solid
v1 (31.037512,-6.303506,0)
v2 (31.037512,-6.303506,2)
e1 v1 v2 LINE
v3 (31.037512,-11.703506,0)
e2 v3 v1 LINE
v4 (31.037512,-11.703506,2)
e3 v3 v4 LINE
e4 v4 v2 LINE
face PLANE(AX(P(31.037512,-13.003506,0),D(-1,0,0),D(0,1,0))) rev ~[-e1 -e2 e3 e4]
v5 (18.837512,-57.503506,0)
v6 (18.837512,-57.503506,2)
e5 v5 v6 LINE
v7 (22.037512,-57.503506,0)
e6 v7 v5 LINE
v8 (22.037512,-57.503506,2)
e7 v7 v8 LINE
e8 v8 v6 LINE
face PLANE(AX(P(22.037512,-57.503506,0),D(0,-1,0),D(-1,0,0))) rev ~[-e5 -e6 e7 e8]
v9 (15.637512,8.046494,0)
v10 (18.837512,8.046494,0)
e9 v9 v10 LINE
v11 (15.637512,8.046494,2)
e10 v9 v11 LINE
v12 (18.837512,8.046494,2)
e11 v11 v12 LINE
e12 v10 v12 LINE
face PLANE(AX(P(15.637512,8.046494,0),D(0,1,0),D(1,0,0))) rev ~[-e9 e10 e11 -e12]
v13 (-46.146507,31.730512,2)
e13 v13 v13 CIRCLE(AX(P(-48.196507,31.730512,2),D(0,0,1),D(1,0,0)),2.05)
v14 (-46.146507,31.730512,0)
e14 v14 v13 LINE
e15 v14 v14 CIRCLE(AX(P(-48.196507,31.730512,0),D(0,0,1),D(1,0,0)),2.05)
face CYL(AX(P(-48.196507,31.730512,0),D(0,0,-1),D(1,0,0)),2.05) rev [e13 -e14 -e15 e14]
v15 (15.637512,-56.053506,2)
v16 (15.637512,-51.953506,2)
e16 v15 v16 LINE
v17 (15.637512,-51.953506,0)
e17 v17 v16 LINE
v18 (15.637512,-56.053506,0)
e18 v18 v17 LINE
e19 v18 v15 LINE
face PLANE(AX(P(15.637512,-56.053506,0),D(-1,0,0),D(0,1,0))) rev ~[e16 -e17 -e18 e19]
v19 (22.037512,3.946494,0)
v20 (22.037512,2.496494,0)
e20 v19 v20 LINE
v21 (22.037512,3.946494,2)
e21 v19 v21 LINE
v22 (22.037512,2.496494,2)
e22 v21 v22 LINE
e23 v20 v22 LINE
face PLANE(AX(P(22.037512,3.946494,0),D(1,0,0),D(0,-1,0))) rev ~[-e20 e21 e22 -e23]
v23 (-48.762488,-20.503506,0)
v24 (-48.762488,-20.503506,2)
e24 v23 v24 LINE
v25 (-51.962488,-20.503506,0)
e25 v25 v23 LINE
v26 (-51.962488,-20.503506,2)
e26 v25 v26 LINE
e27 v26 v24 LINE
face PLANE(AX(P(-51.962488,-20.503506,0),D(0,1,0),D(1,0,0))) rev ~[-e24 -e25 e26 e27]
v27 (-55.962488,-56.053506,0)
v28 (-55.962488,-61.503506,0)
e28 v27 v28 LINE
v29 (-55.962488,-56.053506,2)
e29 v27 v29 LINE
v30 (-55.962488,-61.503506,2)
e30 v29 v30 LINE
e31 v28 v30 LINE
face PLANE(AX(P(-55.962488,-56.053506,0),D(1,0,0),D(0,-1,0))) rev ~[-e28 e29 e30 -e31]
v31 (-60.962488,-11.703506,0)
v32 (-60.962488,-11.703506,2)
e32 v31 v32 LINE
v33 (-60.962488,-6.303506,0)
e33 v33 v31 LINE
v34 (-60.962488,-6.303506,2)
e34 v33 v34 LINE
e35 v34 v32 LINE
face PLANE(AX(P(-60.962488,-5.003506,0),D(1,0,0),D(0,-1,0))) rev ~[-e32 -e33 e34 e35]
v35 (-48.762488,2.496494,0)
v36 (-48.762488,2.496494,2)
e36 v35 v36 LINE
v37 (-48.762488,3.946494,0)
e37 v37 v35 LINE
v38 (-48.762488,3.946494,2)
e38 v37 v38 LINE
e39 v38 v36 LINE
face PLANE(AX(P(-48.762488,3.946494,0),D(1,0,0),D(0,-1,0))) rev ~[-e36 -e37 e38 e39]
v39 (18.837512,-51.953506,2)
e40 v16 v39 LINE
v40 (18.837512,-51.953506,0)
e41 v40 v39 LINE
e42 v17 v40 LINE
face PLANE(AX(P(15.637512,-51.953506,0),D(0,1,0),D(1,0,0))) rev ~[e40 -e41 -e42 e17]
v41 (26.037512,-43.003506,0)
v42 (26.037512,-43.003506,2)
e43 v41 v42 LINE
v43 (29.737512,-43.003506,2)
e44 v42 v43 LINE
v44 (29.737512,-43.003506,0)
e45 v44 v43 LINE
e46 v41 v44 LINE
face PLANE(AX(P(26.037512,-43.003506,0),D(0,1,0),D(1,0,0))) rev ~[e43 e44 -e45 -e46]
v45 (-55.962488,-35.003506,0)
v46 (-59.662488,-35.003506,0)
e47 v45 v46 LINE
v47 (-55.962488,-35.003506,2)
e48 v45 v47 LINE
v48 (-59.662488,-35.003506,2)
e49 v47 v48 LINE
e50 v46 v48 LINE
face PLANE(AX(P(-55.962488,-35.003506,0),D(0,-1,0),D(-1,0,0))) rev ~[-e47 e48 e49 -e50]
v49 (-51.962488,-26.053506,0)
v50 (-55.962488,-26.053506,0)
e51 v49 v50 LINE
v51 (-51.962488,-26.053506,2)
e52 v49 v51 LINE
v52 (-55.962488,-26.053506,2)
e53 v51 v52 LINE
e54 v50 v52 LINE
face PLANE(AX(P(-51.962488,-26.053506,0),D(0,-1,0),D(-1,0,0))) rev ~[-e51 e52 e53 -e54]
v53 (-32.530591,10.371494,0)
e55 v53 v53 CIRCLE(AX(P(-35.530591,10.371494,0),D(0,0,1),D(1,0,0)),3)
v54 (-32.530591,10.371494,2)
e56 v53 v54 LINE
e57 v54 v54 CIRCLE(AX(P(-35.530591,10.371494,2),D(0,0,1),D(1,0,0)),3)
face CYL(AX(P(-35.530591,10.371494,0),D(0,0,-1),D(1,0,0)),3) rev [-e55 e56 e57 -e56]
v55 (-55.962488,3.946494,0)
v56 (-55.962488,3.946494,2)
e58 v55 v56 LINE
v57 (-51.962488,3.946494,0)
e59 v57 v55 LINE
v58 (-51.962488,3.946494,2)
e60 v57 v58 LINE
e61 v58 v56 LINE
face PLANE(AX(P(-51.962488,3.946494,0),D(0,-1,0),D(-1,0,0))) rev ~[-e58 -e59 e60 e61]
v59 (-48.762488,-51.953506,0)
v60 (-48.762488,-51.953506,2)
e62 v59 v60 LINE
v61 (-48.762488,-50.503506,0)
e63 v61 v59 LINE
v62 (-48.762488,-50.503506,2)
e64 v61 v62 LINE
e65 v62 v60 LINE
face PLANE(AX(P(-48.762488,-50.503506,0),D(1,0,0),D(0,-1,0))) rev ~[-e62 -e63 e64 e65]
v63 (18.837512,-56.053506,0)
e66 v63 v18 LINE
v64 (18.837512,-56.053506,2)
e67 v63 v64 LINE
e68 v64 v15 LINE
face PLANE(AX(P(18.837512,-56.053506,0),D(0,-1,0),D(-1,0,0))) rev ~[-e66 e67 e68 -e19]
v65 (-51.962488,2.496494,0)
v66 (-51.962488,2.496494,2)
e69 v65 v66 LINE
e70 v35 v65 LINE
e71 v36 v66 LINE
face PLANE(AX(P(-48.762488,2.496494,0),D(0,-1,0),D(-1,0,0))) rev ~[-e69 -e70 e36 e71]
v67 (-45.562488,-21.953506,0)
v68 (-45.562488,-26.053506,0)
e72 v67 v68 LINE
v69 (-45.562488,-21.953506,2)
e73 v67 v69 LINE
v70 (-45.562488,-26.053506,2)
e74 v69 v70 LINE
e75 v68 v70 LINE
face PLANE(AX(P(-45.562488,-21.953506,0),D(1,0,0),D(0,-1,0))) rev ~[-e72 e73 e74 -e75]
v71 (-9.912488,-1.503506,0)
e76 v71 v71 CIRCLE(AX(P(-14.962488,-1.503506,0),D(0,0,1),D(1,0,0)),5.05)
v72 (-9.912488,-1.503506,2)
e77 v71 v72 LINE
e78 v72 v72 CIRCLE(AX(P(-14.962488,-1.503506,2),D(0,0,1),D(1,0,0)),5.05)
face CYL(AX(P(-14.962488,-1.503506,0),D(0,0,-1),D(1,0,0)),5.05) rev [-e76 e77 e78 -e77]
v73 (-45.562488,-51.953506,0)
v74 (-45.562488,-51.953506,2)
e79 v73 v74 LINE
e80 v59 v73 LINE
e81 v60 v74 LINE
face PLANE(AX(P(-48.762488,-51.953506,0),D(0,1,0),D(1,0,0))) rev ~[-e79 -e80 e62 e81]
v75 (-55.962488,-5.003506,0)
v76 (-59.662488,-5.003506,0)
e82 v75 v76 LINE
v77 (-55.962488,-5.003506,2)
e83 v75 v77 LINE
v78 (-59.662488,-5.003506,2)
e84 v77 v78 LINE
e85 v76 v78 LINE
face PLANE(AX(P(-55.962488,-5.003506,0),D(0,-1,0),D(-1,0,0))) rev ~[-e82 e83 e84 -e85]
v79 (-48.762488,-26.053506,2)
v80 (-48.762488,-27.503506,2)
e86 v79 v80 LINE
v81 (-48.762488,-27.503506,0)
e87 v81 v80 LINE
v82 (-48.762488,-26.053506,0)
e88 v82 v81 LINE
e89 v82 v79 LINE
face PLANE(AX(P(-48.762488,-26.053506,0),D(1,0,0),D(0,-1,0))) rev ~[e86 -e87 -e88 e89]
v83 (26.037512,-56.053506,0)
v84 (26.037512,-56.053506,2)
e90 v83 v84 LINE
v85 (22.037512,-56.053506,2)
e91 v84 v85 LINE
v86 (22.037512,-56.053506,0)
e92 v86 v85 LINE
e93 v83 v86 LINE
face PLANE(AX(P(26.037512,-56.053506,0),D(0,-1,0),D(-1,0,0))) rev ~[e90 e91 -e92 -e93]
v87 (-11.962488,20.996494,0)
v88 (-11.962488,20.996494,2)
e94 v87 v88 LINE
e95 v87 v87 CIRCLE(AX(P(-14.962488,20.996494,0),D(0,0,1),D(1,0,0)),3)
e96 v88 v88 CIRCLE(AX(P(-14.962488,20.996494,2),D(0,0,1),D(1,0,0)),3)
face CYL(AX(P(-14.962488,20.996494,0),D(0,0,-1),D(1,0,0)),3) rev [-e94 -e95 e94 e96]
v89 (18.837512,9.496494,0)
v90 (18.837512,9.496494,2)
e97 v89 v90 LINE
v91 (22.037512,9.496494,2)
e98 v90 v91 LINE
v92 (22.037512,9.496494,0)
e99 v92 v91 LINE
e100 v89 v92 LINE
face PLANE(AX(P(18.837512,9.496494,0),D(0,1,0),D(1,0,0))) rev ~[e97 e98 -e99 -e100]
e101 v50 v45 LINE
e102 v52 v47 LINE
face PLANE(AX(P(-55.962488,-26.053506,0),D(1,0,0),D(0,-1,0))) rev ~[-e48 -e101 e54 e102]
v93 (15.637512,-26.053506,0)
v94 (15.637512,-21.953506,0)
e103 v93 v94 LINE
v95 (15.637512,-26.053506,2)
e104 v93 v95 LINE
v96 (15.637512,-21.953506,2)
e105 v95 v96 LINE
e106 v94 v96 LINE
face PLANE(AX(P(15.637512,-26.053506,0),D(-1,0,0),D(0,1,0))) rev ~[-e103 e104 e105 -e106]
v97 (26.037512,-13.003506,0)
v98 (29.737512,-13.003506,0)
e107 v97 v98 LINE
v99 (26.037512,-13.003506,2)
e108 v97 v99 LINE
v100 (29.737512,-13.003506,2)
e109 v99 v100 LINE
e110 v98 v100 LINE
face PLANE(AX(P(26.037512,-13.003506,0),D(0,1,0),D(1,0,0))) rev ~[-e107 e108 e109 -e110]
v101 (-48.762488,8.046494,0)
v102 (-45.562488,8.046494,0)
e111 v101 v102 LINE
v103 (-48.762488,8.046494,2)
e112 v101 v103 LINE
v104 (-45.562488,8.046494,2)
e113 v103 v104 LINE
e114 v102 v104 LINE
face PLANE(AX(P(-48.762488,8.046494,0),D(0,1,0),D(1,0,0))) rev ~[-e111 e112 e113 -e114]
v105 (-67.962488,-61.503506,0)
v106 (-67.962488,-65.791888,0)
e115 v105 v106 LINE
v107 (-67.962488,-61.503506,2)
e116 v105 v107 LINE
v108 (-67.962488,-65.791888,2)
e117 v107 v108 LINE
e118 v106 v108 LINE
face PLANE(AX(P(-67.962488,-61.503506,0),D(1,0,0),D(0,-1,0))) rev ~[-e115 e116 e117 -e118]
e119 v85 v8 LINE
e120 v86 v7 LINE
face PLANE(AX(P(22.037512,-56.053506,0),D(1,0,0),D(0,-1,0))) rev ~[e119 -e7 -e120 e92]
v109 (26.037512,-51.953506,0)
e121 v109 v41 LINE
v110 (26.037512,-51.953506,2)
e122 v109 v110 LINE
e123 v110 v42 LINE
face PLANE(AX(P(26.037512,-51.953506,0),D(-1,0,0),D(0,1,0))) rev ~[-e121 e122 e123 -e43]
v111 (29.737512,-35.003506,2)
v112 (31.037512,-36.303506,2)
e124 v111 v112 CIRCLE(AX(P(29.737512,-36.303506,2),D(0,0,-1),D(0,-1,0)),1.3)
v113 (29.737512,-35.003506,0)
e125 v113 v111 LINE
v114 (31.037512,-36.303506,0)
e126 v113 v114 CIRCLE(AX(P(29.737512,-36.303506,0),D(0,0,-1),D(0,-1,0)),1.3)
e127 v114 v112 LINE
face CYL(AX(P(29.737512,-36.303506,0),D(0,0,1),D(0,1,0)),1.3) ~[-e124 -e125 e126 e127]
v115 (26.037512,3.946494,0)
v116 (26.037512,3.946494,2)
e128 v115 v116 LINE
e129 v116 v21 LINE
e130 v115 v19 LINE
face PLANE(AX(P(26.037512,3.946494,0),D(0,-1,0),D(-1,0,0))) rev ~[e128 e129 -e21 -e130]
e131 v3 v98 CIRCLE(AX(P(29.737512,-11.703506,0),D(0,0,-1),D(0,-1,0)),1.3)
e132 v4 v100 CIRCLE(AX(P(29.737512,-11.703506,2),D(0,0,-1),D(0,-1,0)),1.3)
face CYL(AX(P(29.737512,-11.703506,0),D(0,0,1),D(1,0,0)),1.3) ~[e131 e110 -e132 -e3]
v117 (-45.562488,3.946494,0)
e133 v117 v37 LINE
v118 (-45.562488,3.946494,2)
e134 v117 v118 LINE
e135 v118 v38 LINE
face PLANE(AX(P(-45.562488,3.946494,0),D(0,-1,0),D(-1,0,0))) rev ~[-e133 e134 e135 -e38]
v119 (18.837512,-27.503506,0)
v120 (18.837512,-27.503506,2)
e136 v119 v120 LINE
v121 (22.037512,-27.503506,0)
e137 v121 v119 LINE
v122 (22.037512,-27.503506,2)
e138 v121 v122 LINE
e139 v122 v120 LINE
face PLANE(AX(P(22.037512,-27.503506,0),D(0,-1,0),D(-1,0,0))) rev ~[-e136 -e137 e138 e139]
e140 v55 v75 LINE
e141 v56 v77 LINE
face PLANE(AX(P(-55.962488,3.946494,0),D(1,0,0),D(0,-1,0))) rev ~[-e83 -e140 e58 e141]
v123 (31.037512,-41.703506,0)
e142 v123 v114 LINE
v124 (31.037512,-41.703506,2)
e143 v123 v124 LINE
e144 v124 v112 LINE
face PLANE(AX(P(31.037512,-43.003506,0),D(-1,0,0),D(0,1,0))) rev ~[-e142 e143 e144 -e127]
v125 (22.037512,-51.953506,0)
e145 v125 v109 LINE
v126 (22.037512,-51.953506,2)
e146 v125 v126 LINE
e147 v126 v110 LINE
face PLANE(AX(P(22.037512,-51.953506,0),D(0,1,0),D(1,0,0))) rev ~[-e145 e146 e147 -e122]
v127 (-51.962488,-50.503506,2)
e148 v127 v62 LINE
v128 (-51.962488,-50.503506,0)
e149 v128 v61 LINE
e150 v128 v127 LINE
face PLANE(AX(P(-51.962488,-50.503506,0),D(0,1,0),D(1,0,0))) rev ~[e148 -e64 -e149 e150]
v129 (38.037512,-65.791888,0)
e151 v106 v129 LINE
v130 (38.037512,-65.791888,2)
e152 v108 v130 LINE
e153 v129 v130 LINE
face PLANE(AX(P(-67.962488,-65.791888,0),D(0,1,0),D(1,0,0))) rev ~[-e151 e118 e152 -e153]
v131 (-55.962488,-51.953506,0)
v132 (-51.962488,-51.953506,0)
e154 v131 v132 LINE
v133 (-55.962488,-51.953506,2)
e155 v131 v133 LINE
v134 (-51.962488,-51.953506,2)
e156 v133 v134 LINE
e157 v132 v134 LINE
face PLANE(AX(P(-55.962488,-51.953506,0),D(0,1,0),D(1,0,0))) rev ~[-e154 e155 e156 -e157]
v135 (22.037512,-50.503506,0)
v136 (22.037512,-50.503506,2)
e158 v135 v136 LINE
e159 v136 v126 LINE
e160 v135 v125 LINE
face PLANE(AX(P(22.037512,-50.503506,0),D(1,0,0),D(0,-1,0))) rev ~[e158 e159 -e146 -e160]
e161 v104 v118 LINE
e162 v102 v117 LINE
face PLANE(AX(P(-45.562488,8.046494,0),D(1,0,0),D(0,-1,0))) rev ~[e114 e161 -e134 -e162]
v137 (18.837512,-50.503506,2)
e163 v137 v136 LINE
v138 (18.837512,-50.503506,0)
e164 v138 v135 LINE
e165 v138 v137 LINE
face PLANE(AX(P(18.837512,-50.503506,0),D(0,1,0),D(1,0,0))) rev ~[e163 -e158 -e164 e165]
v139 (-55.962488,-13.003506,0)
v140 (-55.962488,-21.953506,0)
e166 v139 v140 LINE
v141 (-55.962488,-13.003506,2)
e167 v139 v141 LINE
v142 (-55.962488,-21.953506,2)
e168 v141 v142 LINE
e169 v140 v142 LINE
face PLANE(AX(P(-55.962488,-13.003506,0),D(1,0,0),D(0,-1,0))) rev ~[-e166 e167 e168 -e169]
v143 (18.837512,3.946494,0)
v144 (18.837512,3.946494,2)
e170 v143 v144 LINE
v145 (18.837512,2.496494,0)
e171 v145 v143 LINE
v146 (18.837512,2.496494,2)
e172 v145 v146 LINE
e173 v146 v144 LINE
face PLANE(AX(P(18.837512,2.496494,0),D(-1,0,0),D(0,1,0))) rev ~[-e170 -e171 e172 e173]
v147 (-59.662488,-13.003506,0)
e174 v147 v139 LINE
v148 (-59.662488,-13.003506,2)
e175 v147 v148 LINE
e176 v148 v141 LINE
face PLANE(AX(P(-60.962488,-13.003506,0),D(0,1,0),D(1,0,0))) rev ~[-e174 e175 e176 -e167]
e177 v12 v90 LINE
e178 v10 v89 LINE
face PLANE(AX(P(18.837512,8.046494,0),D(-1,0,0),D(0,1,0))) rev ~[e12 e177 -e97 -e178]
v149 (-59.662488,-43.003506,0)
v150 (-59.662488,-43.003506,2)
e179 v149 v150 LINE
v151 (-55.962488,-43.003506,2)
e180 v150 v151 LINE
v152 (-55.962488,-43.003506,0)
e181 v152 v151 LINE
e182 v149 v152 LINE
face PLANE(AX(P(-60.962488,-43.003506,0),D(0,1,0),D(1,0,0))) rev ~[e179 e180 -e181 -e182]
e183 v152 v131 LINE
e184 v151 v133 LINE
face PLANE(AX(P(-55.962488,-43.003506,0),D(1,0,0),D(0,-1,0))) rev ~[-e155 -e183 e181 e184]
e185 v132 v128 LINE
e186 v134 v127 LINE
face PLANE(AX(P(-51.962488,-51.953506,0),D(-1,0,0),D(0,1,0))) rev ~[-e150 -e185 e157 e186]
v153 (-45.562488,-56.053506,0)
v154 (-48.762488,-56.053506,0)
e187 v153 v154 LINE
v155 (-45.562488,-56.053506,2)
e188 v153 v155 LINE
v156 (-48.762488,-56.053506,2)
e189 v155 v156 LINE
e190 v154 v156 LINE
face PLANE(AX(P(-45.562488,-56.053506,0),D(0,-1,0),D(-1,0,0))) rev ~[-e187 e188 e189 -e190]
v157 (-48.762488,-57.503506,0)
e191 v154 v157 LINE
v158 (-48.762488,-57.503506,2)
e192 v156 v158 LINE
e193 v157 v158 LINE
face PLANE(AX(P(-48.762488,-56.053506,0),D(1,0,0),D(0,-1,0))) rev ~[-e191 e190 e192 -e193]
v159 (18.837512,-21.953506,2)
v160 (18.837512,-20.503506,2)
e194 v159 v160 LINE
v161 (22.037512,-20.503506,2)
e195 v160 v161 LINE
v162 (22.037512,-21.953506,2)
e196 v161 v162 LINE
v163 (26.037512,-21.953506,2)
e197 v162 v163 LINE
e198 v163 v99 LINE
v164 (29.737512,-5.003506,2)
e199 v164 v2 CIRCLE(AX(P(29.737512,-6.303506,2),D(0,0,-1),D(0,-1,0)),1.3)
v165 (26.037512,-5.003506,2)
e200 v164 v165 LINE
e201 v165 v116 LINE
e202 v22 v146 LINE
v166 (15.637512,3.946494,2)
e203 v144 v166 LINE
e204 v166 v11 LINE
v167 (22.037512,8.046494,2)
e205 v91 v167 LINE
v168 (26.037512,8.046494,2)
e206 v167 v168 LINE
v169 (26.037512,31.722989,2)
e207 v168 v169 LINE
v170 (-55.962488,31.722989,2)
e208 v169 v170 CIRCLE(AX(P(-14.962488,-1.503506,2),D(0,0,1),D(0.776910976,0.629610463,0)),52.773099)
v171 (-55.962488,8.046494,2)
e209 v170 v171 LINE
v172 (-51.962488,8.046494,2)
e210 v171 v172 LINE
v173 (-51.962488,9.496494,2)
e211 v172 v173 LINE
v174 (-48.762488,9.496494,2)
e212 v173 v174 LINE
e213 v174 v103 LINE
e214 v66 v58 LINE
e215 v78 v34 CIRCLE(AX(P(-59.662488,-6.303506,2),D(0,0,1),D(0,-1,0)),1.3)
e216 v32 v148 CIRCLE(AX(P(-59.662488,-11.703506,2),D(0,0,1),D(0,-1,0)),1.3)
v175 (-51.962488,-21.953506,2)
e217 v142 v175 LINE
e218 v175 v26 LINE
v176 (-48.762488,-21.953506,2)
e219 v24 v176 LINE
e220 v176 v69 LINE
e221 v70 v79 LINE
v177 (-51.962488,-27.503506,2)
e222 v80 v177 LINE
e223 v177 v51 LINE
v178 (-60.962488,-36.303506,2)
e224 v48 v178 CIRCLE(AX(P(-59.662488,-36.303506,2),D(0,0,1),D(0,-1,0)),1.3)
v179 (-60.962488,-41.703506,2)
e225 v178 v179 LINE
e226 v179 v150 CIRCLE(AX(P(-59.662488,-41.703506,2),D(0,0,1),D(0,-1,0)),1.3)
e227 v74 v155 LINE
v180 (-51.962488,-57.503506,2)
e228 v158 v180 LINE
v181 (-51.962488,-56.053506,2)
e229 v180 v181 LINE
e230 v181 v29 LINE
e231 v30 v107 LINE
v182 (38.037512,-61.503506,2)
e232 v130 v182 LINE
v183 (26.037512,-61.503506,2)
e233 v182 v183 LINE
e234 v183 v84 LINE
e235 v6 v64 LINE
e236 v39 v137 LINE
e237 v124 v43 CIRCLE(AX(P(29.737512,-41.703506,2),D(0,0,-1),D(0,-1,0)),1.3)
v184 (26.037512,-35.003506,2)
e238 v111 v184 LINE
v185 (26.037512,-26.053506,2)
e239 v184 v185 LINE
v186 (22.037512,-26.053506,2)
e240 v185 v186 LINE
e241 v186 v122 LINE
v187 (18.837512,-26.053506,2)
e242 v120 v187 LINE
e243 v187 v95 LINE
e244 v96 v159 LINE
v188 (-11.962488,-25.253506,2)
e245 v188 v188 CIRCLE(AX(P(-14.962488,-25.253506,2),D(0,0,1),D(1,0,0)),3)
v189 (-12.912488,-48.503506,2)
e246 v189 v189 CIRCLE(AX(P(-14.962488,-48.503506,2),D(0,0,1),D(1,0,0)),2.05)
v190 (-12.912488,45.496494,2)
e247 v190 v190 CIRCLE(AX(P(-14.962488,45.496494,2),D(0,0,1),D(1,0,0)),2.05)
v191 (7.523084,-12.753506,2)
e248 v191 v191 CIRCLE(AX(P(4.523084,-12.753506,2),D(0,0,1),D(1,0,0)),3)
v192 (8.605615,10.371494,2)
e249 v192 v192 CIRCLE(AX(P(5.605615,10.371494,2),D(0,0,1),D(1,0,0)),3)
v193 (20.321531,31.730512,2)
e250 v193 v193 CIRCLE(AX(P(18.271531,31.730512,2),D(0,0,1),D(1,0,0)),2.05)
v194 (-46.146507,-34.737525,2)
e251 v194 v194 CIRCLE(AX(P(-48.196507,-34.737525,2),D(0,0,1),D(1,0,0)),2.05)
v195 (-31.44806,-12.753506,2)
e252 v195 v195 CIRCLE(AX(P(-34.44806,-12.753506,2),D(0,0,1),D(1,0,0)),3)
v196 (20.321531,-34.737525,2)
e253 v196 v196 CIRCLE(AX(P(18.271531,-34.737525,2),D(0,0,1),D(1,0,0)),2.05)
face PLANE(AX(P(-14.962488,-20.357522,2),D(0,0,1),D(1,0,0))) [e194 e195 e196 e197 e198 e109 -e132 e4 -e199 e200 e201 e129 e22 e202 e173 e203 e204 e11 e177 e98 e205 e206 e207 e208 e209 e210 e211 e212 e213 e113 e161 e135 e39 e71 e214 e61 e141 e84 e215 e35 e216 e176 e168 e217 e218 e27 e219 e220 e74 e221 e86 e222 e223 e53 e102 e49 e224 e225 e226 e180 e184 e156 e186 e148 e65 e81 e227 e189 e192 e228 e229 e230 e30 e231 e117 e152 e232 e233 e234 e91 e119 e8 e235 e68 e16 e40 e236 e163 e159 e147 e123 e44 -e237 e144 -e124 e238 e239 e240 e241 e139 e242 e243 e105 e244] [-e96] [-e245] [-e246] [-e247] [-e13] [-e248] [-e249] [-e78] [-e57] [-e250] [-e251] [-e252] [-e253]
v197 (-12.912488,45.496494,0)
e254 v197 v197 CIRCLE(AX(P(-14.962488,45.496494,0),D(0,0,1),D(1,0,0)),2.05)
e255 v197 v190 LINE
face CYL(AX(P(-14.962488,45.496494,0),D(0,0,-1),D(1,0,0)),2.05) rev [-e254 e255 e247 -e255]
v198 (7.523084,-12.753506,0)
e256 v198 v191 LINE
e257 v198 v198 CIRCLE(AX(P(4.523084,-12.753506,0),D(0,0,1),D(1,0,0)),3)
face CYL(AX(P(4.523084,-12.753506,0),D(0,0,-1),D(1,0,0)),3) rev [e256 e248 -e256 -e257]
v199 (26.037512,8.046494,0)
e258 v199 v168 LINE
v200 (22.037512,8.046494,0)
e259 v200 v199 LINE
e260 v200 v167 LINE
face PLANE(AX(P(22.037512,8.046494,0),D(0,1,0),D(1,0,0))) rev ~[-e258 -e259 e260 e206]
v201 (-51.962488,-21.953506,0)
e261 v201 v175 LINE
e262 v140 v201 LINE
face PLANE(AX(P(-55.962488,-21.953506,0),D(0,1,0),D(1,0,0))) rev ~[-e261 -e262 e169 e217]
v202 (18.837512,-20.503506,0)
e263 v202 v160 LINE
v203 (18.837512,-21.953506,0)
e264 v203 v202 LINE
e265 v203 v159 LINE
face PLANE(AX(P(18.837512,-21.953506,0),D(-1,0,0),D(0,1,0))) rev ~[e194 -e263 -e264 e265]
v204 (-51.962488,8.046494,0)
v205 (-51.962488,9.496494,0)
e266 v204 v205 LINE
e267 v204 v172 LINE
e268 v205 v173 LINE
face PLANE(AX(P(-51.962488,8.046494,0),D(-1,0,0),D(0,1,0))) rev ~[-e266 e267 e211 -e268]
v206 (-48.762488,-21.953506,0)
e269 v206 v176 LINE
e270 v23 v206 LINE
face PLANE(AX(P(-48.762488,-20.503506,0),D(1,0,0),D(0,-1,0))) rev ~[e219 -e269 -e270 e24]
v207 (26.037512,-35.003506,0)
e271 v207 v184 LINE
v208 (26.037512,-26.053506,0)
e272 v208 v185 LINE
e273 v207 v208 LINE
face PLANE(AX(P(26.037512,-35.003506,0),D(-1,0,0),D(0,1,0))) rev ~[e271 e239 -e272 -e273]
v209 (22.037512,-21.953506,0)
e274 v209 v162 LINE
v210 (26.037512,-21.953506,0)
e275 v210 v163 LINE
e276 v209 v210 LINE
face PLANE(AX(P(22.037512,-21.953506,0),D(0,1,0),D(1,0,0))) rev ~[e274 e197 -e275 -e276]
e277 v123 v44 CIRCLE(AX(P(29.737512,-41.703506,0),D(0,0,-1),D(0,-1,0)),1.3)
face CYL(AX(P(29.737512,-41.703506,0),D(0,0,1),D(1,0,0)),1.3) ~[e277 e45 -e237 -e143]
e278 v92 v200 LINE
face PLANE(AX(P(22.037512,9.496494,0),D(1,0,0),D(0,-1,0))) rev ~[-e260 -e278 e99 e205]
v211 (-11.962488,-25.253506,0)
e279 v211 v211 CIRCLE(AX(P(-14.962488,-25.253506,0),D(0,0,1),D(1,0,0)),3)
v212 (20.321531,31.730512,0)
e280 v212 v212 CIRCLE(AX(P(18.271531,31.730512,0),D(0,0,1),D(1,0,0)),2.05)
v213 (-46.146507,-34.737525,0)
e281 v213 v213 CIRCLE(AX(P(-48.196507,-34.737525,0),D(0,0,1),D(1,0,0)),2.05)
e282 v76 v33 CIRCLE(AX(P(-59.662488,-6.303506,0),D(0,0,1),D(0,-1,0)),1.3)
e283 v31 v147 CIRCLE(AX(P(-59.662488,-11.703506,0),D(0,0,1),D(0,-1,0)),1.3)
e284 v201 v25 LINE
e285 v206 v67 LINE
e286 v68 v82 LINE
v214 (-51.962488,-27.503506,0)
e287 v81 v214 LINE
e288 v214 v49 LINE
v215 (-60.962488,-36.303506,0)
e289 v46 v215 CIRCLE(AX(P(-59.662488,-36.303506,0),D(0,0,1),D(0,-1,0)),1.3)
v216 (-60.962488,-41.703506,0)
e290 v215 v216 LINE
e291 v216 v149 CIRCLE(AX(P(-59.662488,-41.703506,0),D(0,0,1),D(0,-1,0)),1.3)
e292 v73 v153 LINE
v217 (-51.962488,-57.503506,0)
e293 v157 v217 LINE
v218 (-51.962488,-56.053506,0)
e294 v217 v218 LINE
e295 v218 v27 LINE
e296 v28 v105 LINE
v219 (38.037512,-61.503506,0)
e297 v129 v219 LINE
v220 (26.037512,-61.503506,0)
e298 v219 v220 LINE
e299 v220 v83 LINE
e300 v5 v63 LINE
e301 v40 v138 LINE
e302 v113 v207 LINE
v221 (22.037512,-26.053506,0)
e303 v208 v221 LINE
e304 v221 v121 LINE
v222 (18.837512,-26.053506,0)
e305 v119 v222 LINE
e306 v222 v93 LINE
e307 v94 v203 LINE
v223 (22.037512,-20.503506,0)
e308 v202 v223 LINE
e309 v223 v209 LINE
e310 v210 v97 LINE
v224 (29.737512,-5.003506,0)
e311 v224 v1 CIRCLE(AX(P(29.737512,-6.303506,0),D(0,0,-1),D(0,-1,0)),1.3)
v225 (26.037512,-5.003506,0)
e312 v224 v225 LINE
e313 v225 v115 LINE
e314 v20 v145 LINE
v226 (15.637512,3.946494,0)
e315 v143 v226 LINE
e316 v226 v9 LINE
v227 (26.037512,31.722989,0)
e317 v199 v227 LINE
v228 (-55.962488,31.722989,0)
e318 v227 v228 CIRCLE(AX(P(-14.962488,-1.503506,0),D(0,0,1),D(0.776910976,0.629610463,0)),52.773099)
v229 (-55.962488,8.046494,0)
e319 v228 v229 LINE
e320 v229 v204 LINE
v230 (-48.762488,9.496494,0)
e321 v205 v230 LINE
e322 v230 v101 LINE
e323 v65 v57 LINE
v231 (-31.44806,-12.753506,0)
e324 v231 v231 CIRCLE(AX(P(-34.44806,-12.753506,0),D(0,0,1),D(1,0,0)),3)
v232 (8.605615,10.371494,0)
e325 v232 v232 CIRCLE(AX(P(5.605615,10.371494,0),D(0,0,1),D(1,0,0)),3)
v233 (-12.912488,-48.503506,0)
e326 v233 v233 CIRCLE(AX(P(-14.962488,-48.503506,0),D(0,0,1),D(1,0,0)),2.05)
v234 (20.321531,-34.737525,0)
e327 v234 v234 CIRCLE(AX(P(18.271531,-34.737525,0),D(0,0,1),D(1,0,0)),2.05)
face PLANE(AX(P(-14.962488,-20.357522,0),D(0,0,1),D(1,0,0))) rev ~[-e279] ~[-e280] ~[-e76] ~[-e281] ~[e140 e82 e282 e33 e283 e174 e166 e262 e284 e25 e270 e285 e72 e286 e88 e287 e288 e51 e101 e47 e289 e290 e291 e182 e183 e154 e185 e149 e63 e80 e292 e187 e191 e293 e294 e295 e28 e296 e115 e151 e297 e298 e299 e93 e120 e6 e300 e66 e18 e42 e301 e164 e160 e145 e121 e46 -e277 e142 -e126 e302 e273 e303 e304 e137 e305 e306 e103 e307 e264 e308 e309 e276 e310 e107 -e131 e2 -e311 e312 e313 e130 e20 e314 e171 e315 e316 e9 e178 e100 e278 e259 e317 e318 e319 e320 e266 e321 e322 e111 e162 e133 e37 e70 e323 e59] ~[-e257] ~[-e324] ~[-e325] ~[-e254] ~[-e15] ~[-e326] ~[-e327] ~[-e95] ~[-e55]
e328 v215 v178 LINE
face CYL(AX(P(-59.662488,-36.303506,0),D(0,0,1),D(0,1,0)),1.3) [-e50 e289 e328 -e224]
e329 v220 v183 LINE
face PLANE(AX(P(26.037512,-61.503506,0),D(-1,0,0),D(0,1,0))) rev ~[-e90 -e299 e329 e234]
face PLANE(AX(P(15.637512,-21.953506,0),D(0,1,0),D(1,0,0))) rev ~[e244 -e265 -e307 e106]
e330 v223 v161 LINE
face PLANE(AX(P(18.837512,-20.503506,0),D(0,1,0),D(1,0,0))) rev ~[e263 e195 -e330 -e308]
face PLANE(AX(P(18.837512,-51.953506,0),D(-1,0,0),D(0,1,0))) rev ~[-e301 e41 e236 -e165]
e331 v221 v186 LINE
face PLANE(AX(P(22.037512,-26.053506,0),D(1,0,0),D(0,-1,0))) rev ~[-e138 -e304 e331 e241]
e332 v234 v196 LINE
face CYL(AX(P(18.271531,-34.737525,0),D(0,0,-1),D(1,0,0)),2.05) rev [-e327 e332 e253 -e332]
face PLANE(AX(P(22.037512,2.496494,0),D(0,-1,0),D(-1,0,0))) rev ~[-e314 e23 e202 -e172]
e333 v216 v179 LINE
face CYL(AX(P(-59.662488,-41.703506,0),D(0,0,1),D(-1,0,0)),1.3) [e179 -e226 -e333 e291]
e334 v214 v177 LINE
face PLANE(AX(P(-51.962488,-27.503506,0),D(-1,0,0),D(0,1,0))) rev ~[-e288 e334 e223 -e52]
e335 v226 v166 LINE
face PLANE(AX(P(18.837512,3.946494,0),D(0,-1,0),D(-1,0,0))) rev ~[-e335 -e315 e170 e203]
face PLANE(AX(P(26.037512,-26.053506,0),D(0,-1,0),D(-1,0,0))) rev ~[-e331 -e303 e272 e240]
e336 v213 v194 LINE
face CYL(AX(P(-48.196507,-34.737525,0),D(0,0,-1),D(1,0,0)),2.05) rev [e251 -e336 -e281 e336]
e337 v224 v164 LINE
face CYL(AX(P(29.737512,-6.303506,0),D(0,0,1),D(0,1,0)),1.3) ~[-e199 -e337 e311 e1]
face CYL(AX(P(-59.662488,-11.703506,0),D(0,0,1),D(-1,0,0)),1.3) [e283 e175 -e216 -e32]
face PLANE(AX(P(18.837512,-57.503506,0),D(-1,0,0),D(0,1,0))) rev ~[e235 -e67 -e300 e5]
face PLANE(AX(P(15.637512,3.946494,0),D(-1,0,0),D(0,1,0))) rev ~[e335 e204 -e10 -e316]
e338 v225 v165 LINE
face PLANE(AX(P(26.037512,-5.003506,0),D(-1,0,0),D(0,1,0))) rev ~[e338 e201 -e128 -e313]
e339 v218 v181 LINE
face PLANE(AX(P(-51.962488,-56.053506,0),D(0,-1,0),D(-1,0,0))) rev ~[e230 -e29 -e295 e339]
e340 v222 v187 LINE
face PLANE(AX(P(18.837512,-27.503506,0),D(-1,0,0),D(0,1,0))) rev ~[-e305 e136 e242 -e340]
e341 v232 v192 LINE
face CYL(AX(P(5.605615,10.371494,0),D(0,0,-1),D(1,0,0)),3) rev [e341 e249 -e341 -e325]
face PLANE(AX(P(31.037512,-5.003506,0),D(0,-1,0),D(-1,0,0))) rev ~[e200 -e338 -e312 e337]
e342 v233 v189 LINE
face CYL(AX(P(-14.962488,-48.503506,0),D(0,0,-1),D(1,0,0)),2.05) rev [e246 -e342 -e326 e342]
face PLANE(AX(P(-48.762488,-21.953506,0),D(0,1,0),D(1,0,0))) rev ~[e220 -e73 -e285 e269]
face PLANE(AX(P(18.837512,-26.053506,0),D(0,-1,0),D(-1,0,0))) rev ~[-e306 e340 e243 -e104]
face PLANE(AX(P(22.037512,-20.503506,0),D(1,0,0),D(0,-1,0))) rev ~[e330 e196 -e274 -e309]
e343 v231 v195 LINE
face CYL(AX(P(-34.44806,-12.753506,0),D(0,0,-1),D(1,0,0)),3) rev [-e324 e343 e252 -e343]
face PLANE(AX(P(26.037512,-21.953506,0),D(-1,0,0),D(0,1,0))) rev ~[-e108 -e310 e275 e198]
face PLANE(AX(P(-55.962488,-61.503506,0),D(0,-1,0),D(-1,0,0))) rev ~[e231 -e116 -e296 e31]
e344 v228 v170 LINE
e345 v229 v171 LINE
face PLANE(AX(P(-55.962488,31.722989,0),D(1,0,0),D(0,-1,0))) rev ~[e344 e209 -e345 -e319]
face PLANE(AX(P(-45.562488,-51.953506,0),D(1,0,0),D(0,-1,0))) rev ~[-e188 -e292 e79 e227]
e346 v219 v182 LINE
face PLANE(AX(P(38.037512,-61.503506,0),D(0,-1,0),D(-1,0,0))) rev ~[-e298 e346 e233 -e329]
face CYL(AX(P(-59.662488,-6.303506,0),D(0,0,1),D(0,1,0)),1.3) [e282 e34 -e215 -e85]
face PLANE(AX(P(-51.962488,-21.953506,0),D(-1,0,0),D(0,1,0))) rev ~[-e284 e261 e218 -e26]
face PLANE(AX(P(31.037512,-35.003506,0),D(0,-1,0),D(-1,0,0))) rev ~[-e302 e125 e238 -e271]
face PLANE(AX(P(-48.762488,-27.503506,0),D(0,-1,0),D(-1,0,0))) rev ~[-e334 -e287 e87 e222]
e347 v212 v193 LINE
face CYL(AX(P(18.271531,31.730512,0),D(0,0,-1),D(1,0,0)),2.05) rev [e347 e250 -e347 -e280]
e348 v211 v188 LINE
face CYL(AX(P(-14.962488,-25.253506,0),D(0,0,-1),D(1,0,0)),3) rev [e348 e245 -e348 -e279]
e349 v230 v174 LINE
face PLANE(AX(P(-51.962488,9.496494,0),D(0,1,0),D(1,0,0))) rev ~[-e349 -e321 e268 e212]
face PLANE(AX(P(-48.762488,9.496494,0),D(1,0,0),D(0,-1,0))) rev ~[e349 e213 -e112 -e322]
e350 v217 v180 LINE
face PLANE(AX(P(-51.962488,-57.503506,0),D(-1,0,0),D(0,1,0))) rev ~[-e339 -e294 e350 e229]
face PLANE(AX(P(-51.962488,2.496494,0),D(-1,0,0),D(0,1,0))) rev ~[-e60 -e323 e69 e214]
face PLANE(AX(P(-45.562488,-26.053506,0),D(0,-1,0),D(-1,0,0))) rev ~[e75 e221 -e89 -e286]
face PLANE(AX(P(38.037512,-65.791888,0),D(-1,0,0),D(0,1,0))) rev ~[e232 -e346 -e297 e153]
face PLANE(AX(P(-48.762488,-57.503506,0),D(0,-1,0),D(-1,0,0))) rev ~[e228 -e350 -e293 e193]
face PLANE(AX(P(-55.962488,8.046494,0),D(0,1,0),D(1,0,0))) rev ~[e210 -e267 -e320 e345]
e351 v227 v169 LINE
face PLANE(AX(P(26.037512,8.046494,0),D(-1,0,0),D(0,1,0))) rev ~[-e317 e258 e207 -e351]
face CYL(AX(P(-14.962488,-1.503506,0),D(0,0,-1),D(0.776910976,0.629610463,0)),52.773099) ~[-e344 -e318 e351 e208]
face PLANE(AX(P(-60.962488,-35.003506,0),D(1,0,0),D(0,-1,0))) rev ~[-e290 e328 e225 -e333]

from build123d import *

# Parameters (mm, degrees)
SKETCH_1_R      = 3
SKETCH_1_R_2    = 5.05
SKETCH_1_R_3    = 2.05
EXTRUDE_2_DEPTH = 2
FILLET_1_R      = 1.3


with BuildPart() as part:
    # 草图1 → 凸台-拉伸2 (new body)
    with BuildSketch(Plane.XY):
        with BuildLine():
            Line((-55.962487977, 23.496493589), (-55.962487977, 8.046493589))
            Line((-55.962487977, 8.046493589), (-51.962487977, 8.046493589))
            Line((-51.962487977, 8.046493589), (-51.962487977, 9.496493589))
            Line((-51.962487977, 9.496493589), (-48.762487977, 9.496493589))
            Line((-48.762487977, 9.496493589), (-48.762487977, 8.046493589))
            Line((-48.762487977, 8.046493589), (-45.562487977, 8.046493589))
            Line((-45.562487977, 8.046493589), (-45.562487977, 3.946493589))
            Line((-45.562487977, 3.946493589), (-48.762487977, 3.946493589))
            Line((-48.762487977, 3.946493589), (-48.762487977, 2.496493589))
            Line((-48.762487977, 2.496493589), (-51.962487977, 2.496493589))
            Line((-51.962487977, 2.496493589), (-51.962487977, 3.946493589))
            Line((-51.962487977, 3.946493589), (-55.962487977, 3.946493589))
            Line((-55.962487977, 3.946493589), (-55.962487977, -5.003506411))
            Line((-55.962487977, -5.003506411), (-60.962487977, -5.003506411))
            Line((-60.962487977, -5.003506411), (-60.962487977, -13.003506411))
            Line((-60.962487977, -13.003506411), (-55.962487977, -13.003506411))
            Line((-55.962487977, -13.003506411), (-55.962487977, -21.953506411))
            Line((-55.962487977, -21.953506411), (-51.962487977, -21.953506411))
            Line((-51.962487977, -21.953506411), (-51.962487977, -20.503506411))
            Line((-51.962487977, -20.503506411), (-48.762487977, -20.503506411))
            Line((-48.762487977, -20.503506411), (-48.762487977, -21.953506411))
            Line((-48.762487977, -21.953506411), (-45.562487977, -21.953506411))
            Line((-45.562487977, -21.953506411), (-45.562487977, -26.053506411))
            Line((-45.562487977, -26.053506411), (-48.762487977, -26.053506411))
            Line((-48.762487977, -26.053506411), (-48.762487977, -27.503506411))
            Line((-48.762487977, -27.503506411), (-51.962487977, -27.503506411))
            Line((-51.962487977, -27.503506411), (-51.962487977, -26.053506411))
            Line((-51.962487977, -26.053506411), (-55.962487977, -26.053506411))
            Line((-55.962487977, -26.053506411), (-55.962487977, -35.003506411))
            Line((-55.962487977, -35.003506411), (-60.962487977, -35.003506411))
            Line((-60.962487977, -35.003506411), (-60.962487977, -43.003506411))
            Line((-60.962487977, -43.003506411), (-55.962487977, -43.003506411))
            Line((-55.962487977, -43.003506411), (-55.962487977, -51.953506411))
            Line((-55.962487977, -51.953506411), (-51.962487977, -51.953506411))
            Line((-51.962487977, -51.953506411), (-51.962487977, -50.503506411))
            Line((-51.962487977, -50.503506411), (-48.762487977, -50.503506411))
            Line((-48.762487977, -50.503506411), (-48.762487977, -51.953506411))
            Line((-48.762487977, -51.953506411), (-45.562487977, -51.953506411))
            Line((-45.562487977, -51.953506411), (-45.562487977, -56.053506411))
            Line((-45.562487977, -56.053506411), (-48.762487977, -56.053506411))
            Line((-48.762487977, -56.053506411), (-48.762487977, -57.503506411))
            Line((-48.762487977, -57.503506411), (-51.962487977, -57.503506411))
            Line((-51.962487977, -57.503506411), (-51.962487977, -56.053506411))
            Line((-51.962487977, -56.053506411), (-55.962487977, -56.053506411))
            Line((-55.962487977, -56.053506411), (-55.962487977, -61.503506411))
            Line((-55.962487977, -61.503506411), (-67.962487977, -61.503506411))
            Line((-67.962487977, -61.503506411), (-67.962487977, -65.791888255))
            Line((-67.962487977, -65.791888255), (38.037512023, -65.791888255))
            Line((38.037512023, -65.791888255), (38.037512023, -61.503506411))
            Line((38.037512023, -61.503506411), (26.037512023, -61.503506411))
            Line((26.037512023, -61.503506411), (26.037512023, -56.053506411))
            Line((26.037512023, -56.053506411), (22.037512023, -56.053506411))
            Line((22.037512023, -56.053506411), (22.037512023, -57.503506411))
            Line((22.037512023, -57.503506411), (18.837512023, -57.503506411))
            Line((18.837512023, -57.503506411), (18.837512023, -56.053506411))
            Line((18.837512023, -56.053506411), (15.637512023, -56.053506411))
            Line((15.637512023, -56.053506411), (15.637512023, -51.953506411))
            Line((15.637512023, -51.953506411), (18.837512023, -51.953506411))
            Line((18.837512023, -51.953506411), (18.837512023, -50.503506411))
            Line((18.837512023, -50.503506411), (22.037512023, -50.503506411))
            Line((22.037512023, -50.503506411), (22.037512023, -51.953506411))
            Line((22.037512023, -51.953506411), (26.037512023, -51.953506411))
            Line((26.037512023, -51.953506411), (26.037512023, -43.003506411))
            Line((26.037512023, -43.003506411), (31.037512023, -43.003506411))
            Line((31.037512023, -43.003506411), (31.037512023, -35.003506411))
            Line((31.037512023, -35.003506411), (26.037512023, -35.003506411))
            Line((26.037512023, -35.003506411), (26.037512023, -26.053506411))
            Line((26.037512023, -26.053506411), (22.037512023, -26.053506411))
            Line((22.037512023, -26.053506411), (22.037512023, -27.503506411))
            Line((22.037512023, -27.503506411), (18.837512023, -27.503506411))
            Line((18.837512023, -27.503506411), (18.837512023, -26.053506411))
            Line((18.837512023, -26.053506411), (15.637512023, -26.053506411))
            Line((15.637512023, -26.053506411), (15.637512023, -21.953506411))
            Line((15.637512023, -21.953506411), (18.837512023, -21.953506411))
            Line((18.837512023, -21.953506411), (18.837512023, -20.503506411))
            Line((18.837512023, -20.503506411), (22.037512023, -20.503506411))
            Line((22.037512023, -20.503506411), (22.037512023, -21.953506411))
            Line((22.037512023, -21.953506411), (26.037512023, -21.953506411))
            Line((26.037512023, -21.953506411), (26.037512023, -13.003506411))
            Line((26.037512023, -13.003506411), (31.037512023, -13.003506411))
            Line((31.037512023, -13.003506411), (31.037512023, -5.003506411))
            Line((31.037512023, -5.003506411), (26.037512023, -5.003506411))
            Line((26.037512023, -5.003506411), (26.037512023, 3.946493589))
            Line((26.037512023, 3.946493589), (22.037512023, 3.946493589))
            Line((22.037512023, 3.946493589), (22.037512023, 2.496493589))
            Line((22.037512023, 2.496493589), (18.837512023, 2.496493589))
            Line((18.837512023, 2.496493589), (18.837512023, 3.946493589))
            Line((18.837512023, 3.946493589), (15.637512023, 3.946493589))
            Line((15.637512023, 3.946493589), (15.637512023, 8.046493589))
            Line((15.637512023, 8.046493589), (18.837512023, 8.046493589))
            Line((18.837512023, 8.046493589), (18.837512023, 9.496493589))
            Line((18.837512023, 9.496493589), (22.037512023, 9.496493589))
            Line((22.037512023, 9.496493589), (22.037512023, 8.046493589))
            Line((22.037512023, 8.046493589), (26.037512023, 8.046493589))
            Line((26.037512023, 8.046493589), (26.037512023, 23.496493589))
            Line((26.037512023, 23.496493589), (26.037512023, 31.722989041))
            ThreePointArc((26.037512023, 31.722989041), (-14.962487977, 51.269592797), (-55.962487977, 31.722989041))
            Line((-55.962487977, 31.722989041), (-55.962487977, 23.496493589))
        make_face()
        with Locations((-14.962487977, -25.253506411)):
            Circle(SKETCH_1_R, mode=Mode.SUBTRACT)
        with Locations((4.523083608, -12.753506411)):
            Circle(SKETCH_1_R, mode=Mode.SUBTRACT)
        with Locations((-14.962487977, -1.503506411)):
            Circle(SKETCH_1_R_2, mode=Mode.SUBTRACT)
        with Locations((-35.530591317, 10.371493589)):
            Circle(SKETCH_1_R, mode=Mode.SUBTRACT)
        with Locations((-34.448059562, -12.753506411)):
            Circle(SKETCH_1_R, mode=Mode.SUBTRACT)
        with Locations((5.605615363, 10.371493589)):
            Circle(SKETCH_1_R, mode=Mode.SUBTRACT)
        with Locations((-14.962487977, 20.996493589)):
            Circle(SKETCH_1_R, mode=Mode.SUBTRACT)
        with Locations((18.271530739, -34.737525127)):
            Circle(SKETCH_1_R_3, mode=Mode.SUBTRACT)
        with Locations((-14.962487977, -48.503506411)):
            Circle(SKETCH_1_R_3, mode=Mode.SUBTRACT)
        with Locations((-48.196506692, -34.737525127)):
            Circle(SKETCH_1_R_3, mode=Mode.SUBTRACT)
        with Locations((-48.196506692, 31.730512305)):
            Circle(SKETCH_1_R_3, mode=Mode.SUBTRACT)
        with Locations((-14.962487977, 45.496493589)):
            Circle(SKETCH_1_R_3, mode=Mode.SUBTRACT)
        with Locations((18.271530739, 31.730512305)):
            Circle(SKETCH_1_R_3, mode=Mode.SUBTRACT)
    extrude(amount=EXTRUDE_2_DEPTH)

    # 圆角1
    fillet_1_edges = [part.edges().sort_by_distance(p)[0] for p in [
        (-60.962487977, -43.003506411, 1),
        (-60.962487977, -35.003506411, 1),
        (-60.962487977, -13.003506411, 1),
        (-60.962487977, -5.003506411, 1),
        (31.037512023, -5.003506411, 1),
        (31.037512023, -13.003506411, 1),
        (31.037512023, -35.003506411, 1),
        (31.037512023, -43.003506411, 1),
    ]]
    fillet(fillet_1_edges, radius=FILLET_1_R)


solid = part.part
